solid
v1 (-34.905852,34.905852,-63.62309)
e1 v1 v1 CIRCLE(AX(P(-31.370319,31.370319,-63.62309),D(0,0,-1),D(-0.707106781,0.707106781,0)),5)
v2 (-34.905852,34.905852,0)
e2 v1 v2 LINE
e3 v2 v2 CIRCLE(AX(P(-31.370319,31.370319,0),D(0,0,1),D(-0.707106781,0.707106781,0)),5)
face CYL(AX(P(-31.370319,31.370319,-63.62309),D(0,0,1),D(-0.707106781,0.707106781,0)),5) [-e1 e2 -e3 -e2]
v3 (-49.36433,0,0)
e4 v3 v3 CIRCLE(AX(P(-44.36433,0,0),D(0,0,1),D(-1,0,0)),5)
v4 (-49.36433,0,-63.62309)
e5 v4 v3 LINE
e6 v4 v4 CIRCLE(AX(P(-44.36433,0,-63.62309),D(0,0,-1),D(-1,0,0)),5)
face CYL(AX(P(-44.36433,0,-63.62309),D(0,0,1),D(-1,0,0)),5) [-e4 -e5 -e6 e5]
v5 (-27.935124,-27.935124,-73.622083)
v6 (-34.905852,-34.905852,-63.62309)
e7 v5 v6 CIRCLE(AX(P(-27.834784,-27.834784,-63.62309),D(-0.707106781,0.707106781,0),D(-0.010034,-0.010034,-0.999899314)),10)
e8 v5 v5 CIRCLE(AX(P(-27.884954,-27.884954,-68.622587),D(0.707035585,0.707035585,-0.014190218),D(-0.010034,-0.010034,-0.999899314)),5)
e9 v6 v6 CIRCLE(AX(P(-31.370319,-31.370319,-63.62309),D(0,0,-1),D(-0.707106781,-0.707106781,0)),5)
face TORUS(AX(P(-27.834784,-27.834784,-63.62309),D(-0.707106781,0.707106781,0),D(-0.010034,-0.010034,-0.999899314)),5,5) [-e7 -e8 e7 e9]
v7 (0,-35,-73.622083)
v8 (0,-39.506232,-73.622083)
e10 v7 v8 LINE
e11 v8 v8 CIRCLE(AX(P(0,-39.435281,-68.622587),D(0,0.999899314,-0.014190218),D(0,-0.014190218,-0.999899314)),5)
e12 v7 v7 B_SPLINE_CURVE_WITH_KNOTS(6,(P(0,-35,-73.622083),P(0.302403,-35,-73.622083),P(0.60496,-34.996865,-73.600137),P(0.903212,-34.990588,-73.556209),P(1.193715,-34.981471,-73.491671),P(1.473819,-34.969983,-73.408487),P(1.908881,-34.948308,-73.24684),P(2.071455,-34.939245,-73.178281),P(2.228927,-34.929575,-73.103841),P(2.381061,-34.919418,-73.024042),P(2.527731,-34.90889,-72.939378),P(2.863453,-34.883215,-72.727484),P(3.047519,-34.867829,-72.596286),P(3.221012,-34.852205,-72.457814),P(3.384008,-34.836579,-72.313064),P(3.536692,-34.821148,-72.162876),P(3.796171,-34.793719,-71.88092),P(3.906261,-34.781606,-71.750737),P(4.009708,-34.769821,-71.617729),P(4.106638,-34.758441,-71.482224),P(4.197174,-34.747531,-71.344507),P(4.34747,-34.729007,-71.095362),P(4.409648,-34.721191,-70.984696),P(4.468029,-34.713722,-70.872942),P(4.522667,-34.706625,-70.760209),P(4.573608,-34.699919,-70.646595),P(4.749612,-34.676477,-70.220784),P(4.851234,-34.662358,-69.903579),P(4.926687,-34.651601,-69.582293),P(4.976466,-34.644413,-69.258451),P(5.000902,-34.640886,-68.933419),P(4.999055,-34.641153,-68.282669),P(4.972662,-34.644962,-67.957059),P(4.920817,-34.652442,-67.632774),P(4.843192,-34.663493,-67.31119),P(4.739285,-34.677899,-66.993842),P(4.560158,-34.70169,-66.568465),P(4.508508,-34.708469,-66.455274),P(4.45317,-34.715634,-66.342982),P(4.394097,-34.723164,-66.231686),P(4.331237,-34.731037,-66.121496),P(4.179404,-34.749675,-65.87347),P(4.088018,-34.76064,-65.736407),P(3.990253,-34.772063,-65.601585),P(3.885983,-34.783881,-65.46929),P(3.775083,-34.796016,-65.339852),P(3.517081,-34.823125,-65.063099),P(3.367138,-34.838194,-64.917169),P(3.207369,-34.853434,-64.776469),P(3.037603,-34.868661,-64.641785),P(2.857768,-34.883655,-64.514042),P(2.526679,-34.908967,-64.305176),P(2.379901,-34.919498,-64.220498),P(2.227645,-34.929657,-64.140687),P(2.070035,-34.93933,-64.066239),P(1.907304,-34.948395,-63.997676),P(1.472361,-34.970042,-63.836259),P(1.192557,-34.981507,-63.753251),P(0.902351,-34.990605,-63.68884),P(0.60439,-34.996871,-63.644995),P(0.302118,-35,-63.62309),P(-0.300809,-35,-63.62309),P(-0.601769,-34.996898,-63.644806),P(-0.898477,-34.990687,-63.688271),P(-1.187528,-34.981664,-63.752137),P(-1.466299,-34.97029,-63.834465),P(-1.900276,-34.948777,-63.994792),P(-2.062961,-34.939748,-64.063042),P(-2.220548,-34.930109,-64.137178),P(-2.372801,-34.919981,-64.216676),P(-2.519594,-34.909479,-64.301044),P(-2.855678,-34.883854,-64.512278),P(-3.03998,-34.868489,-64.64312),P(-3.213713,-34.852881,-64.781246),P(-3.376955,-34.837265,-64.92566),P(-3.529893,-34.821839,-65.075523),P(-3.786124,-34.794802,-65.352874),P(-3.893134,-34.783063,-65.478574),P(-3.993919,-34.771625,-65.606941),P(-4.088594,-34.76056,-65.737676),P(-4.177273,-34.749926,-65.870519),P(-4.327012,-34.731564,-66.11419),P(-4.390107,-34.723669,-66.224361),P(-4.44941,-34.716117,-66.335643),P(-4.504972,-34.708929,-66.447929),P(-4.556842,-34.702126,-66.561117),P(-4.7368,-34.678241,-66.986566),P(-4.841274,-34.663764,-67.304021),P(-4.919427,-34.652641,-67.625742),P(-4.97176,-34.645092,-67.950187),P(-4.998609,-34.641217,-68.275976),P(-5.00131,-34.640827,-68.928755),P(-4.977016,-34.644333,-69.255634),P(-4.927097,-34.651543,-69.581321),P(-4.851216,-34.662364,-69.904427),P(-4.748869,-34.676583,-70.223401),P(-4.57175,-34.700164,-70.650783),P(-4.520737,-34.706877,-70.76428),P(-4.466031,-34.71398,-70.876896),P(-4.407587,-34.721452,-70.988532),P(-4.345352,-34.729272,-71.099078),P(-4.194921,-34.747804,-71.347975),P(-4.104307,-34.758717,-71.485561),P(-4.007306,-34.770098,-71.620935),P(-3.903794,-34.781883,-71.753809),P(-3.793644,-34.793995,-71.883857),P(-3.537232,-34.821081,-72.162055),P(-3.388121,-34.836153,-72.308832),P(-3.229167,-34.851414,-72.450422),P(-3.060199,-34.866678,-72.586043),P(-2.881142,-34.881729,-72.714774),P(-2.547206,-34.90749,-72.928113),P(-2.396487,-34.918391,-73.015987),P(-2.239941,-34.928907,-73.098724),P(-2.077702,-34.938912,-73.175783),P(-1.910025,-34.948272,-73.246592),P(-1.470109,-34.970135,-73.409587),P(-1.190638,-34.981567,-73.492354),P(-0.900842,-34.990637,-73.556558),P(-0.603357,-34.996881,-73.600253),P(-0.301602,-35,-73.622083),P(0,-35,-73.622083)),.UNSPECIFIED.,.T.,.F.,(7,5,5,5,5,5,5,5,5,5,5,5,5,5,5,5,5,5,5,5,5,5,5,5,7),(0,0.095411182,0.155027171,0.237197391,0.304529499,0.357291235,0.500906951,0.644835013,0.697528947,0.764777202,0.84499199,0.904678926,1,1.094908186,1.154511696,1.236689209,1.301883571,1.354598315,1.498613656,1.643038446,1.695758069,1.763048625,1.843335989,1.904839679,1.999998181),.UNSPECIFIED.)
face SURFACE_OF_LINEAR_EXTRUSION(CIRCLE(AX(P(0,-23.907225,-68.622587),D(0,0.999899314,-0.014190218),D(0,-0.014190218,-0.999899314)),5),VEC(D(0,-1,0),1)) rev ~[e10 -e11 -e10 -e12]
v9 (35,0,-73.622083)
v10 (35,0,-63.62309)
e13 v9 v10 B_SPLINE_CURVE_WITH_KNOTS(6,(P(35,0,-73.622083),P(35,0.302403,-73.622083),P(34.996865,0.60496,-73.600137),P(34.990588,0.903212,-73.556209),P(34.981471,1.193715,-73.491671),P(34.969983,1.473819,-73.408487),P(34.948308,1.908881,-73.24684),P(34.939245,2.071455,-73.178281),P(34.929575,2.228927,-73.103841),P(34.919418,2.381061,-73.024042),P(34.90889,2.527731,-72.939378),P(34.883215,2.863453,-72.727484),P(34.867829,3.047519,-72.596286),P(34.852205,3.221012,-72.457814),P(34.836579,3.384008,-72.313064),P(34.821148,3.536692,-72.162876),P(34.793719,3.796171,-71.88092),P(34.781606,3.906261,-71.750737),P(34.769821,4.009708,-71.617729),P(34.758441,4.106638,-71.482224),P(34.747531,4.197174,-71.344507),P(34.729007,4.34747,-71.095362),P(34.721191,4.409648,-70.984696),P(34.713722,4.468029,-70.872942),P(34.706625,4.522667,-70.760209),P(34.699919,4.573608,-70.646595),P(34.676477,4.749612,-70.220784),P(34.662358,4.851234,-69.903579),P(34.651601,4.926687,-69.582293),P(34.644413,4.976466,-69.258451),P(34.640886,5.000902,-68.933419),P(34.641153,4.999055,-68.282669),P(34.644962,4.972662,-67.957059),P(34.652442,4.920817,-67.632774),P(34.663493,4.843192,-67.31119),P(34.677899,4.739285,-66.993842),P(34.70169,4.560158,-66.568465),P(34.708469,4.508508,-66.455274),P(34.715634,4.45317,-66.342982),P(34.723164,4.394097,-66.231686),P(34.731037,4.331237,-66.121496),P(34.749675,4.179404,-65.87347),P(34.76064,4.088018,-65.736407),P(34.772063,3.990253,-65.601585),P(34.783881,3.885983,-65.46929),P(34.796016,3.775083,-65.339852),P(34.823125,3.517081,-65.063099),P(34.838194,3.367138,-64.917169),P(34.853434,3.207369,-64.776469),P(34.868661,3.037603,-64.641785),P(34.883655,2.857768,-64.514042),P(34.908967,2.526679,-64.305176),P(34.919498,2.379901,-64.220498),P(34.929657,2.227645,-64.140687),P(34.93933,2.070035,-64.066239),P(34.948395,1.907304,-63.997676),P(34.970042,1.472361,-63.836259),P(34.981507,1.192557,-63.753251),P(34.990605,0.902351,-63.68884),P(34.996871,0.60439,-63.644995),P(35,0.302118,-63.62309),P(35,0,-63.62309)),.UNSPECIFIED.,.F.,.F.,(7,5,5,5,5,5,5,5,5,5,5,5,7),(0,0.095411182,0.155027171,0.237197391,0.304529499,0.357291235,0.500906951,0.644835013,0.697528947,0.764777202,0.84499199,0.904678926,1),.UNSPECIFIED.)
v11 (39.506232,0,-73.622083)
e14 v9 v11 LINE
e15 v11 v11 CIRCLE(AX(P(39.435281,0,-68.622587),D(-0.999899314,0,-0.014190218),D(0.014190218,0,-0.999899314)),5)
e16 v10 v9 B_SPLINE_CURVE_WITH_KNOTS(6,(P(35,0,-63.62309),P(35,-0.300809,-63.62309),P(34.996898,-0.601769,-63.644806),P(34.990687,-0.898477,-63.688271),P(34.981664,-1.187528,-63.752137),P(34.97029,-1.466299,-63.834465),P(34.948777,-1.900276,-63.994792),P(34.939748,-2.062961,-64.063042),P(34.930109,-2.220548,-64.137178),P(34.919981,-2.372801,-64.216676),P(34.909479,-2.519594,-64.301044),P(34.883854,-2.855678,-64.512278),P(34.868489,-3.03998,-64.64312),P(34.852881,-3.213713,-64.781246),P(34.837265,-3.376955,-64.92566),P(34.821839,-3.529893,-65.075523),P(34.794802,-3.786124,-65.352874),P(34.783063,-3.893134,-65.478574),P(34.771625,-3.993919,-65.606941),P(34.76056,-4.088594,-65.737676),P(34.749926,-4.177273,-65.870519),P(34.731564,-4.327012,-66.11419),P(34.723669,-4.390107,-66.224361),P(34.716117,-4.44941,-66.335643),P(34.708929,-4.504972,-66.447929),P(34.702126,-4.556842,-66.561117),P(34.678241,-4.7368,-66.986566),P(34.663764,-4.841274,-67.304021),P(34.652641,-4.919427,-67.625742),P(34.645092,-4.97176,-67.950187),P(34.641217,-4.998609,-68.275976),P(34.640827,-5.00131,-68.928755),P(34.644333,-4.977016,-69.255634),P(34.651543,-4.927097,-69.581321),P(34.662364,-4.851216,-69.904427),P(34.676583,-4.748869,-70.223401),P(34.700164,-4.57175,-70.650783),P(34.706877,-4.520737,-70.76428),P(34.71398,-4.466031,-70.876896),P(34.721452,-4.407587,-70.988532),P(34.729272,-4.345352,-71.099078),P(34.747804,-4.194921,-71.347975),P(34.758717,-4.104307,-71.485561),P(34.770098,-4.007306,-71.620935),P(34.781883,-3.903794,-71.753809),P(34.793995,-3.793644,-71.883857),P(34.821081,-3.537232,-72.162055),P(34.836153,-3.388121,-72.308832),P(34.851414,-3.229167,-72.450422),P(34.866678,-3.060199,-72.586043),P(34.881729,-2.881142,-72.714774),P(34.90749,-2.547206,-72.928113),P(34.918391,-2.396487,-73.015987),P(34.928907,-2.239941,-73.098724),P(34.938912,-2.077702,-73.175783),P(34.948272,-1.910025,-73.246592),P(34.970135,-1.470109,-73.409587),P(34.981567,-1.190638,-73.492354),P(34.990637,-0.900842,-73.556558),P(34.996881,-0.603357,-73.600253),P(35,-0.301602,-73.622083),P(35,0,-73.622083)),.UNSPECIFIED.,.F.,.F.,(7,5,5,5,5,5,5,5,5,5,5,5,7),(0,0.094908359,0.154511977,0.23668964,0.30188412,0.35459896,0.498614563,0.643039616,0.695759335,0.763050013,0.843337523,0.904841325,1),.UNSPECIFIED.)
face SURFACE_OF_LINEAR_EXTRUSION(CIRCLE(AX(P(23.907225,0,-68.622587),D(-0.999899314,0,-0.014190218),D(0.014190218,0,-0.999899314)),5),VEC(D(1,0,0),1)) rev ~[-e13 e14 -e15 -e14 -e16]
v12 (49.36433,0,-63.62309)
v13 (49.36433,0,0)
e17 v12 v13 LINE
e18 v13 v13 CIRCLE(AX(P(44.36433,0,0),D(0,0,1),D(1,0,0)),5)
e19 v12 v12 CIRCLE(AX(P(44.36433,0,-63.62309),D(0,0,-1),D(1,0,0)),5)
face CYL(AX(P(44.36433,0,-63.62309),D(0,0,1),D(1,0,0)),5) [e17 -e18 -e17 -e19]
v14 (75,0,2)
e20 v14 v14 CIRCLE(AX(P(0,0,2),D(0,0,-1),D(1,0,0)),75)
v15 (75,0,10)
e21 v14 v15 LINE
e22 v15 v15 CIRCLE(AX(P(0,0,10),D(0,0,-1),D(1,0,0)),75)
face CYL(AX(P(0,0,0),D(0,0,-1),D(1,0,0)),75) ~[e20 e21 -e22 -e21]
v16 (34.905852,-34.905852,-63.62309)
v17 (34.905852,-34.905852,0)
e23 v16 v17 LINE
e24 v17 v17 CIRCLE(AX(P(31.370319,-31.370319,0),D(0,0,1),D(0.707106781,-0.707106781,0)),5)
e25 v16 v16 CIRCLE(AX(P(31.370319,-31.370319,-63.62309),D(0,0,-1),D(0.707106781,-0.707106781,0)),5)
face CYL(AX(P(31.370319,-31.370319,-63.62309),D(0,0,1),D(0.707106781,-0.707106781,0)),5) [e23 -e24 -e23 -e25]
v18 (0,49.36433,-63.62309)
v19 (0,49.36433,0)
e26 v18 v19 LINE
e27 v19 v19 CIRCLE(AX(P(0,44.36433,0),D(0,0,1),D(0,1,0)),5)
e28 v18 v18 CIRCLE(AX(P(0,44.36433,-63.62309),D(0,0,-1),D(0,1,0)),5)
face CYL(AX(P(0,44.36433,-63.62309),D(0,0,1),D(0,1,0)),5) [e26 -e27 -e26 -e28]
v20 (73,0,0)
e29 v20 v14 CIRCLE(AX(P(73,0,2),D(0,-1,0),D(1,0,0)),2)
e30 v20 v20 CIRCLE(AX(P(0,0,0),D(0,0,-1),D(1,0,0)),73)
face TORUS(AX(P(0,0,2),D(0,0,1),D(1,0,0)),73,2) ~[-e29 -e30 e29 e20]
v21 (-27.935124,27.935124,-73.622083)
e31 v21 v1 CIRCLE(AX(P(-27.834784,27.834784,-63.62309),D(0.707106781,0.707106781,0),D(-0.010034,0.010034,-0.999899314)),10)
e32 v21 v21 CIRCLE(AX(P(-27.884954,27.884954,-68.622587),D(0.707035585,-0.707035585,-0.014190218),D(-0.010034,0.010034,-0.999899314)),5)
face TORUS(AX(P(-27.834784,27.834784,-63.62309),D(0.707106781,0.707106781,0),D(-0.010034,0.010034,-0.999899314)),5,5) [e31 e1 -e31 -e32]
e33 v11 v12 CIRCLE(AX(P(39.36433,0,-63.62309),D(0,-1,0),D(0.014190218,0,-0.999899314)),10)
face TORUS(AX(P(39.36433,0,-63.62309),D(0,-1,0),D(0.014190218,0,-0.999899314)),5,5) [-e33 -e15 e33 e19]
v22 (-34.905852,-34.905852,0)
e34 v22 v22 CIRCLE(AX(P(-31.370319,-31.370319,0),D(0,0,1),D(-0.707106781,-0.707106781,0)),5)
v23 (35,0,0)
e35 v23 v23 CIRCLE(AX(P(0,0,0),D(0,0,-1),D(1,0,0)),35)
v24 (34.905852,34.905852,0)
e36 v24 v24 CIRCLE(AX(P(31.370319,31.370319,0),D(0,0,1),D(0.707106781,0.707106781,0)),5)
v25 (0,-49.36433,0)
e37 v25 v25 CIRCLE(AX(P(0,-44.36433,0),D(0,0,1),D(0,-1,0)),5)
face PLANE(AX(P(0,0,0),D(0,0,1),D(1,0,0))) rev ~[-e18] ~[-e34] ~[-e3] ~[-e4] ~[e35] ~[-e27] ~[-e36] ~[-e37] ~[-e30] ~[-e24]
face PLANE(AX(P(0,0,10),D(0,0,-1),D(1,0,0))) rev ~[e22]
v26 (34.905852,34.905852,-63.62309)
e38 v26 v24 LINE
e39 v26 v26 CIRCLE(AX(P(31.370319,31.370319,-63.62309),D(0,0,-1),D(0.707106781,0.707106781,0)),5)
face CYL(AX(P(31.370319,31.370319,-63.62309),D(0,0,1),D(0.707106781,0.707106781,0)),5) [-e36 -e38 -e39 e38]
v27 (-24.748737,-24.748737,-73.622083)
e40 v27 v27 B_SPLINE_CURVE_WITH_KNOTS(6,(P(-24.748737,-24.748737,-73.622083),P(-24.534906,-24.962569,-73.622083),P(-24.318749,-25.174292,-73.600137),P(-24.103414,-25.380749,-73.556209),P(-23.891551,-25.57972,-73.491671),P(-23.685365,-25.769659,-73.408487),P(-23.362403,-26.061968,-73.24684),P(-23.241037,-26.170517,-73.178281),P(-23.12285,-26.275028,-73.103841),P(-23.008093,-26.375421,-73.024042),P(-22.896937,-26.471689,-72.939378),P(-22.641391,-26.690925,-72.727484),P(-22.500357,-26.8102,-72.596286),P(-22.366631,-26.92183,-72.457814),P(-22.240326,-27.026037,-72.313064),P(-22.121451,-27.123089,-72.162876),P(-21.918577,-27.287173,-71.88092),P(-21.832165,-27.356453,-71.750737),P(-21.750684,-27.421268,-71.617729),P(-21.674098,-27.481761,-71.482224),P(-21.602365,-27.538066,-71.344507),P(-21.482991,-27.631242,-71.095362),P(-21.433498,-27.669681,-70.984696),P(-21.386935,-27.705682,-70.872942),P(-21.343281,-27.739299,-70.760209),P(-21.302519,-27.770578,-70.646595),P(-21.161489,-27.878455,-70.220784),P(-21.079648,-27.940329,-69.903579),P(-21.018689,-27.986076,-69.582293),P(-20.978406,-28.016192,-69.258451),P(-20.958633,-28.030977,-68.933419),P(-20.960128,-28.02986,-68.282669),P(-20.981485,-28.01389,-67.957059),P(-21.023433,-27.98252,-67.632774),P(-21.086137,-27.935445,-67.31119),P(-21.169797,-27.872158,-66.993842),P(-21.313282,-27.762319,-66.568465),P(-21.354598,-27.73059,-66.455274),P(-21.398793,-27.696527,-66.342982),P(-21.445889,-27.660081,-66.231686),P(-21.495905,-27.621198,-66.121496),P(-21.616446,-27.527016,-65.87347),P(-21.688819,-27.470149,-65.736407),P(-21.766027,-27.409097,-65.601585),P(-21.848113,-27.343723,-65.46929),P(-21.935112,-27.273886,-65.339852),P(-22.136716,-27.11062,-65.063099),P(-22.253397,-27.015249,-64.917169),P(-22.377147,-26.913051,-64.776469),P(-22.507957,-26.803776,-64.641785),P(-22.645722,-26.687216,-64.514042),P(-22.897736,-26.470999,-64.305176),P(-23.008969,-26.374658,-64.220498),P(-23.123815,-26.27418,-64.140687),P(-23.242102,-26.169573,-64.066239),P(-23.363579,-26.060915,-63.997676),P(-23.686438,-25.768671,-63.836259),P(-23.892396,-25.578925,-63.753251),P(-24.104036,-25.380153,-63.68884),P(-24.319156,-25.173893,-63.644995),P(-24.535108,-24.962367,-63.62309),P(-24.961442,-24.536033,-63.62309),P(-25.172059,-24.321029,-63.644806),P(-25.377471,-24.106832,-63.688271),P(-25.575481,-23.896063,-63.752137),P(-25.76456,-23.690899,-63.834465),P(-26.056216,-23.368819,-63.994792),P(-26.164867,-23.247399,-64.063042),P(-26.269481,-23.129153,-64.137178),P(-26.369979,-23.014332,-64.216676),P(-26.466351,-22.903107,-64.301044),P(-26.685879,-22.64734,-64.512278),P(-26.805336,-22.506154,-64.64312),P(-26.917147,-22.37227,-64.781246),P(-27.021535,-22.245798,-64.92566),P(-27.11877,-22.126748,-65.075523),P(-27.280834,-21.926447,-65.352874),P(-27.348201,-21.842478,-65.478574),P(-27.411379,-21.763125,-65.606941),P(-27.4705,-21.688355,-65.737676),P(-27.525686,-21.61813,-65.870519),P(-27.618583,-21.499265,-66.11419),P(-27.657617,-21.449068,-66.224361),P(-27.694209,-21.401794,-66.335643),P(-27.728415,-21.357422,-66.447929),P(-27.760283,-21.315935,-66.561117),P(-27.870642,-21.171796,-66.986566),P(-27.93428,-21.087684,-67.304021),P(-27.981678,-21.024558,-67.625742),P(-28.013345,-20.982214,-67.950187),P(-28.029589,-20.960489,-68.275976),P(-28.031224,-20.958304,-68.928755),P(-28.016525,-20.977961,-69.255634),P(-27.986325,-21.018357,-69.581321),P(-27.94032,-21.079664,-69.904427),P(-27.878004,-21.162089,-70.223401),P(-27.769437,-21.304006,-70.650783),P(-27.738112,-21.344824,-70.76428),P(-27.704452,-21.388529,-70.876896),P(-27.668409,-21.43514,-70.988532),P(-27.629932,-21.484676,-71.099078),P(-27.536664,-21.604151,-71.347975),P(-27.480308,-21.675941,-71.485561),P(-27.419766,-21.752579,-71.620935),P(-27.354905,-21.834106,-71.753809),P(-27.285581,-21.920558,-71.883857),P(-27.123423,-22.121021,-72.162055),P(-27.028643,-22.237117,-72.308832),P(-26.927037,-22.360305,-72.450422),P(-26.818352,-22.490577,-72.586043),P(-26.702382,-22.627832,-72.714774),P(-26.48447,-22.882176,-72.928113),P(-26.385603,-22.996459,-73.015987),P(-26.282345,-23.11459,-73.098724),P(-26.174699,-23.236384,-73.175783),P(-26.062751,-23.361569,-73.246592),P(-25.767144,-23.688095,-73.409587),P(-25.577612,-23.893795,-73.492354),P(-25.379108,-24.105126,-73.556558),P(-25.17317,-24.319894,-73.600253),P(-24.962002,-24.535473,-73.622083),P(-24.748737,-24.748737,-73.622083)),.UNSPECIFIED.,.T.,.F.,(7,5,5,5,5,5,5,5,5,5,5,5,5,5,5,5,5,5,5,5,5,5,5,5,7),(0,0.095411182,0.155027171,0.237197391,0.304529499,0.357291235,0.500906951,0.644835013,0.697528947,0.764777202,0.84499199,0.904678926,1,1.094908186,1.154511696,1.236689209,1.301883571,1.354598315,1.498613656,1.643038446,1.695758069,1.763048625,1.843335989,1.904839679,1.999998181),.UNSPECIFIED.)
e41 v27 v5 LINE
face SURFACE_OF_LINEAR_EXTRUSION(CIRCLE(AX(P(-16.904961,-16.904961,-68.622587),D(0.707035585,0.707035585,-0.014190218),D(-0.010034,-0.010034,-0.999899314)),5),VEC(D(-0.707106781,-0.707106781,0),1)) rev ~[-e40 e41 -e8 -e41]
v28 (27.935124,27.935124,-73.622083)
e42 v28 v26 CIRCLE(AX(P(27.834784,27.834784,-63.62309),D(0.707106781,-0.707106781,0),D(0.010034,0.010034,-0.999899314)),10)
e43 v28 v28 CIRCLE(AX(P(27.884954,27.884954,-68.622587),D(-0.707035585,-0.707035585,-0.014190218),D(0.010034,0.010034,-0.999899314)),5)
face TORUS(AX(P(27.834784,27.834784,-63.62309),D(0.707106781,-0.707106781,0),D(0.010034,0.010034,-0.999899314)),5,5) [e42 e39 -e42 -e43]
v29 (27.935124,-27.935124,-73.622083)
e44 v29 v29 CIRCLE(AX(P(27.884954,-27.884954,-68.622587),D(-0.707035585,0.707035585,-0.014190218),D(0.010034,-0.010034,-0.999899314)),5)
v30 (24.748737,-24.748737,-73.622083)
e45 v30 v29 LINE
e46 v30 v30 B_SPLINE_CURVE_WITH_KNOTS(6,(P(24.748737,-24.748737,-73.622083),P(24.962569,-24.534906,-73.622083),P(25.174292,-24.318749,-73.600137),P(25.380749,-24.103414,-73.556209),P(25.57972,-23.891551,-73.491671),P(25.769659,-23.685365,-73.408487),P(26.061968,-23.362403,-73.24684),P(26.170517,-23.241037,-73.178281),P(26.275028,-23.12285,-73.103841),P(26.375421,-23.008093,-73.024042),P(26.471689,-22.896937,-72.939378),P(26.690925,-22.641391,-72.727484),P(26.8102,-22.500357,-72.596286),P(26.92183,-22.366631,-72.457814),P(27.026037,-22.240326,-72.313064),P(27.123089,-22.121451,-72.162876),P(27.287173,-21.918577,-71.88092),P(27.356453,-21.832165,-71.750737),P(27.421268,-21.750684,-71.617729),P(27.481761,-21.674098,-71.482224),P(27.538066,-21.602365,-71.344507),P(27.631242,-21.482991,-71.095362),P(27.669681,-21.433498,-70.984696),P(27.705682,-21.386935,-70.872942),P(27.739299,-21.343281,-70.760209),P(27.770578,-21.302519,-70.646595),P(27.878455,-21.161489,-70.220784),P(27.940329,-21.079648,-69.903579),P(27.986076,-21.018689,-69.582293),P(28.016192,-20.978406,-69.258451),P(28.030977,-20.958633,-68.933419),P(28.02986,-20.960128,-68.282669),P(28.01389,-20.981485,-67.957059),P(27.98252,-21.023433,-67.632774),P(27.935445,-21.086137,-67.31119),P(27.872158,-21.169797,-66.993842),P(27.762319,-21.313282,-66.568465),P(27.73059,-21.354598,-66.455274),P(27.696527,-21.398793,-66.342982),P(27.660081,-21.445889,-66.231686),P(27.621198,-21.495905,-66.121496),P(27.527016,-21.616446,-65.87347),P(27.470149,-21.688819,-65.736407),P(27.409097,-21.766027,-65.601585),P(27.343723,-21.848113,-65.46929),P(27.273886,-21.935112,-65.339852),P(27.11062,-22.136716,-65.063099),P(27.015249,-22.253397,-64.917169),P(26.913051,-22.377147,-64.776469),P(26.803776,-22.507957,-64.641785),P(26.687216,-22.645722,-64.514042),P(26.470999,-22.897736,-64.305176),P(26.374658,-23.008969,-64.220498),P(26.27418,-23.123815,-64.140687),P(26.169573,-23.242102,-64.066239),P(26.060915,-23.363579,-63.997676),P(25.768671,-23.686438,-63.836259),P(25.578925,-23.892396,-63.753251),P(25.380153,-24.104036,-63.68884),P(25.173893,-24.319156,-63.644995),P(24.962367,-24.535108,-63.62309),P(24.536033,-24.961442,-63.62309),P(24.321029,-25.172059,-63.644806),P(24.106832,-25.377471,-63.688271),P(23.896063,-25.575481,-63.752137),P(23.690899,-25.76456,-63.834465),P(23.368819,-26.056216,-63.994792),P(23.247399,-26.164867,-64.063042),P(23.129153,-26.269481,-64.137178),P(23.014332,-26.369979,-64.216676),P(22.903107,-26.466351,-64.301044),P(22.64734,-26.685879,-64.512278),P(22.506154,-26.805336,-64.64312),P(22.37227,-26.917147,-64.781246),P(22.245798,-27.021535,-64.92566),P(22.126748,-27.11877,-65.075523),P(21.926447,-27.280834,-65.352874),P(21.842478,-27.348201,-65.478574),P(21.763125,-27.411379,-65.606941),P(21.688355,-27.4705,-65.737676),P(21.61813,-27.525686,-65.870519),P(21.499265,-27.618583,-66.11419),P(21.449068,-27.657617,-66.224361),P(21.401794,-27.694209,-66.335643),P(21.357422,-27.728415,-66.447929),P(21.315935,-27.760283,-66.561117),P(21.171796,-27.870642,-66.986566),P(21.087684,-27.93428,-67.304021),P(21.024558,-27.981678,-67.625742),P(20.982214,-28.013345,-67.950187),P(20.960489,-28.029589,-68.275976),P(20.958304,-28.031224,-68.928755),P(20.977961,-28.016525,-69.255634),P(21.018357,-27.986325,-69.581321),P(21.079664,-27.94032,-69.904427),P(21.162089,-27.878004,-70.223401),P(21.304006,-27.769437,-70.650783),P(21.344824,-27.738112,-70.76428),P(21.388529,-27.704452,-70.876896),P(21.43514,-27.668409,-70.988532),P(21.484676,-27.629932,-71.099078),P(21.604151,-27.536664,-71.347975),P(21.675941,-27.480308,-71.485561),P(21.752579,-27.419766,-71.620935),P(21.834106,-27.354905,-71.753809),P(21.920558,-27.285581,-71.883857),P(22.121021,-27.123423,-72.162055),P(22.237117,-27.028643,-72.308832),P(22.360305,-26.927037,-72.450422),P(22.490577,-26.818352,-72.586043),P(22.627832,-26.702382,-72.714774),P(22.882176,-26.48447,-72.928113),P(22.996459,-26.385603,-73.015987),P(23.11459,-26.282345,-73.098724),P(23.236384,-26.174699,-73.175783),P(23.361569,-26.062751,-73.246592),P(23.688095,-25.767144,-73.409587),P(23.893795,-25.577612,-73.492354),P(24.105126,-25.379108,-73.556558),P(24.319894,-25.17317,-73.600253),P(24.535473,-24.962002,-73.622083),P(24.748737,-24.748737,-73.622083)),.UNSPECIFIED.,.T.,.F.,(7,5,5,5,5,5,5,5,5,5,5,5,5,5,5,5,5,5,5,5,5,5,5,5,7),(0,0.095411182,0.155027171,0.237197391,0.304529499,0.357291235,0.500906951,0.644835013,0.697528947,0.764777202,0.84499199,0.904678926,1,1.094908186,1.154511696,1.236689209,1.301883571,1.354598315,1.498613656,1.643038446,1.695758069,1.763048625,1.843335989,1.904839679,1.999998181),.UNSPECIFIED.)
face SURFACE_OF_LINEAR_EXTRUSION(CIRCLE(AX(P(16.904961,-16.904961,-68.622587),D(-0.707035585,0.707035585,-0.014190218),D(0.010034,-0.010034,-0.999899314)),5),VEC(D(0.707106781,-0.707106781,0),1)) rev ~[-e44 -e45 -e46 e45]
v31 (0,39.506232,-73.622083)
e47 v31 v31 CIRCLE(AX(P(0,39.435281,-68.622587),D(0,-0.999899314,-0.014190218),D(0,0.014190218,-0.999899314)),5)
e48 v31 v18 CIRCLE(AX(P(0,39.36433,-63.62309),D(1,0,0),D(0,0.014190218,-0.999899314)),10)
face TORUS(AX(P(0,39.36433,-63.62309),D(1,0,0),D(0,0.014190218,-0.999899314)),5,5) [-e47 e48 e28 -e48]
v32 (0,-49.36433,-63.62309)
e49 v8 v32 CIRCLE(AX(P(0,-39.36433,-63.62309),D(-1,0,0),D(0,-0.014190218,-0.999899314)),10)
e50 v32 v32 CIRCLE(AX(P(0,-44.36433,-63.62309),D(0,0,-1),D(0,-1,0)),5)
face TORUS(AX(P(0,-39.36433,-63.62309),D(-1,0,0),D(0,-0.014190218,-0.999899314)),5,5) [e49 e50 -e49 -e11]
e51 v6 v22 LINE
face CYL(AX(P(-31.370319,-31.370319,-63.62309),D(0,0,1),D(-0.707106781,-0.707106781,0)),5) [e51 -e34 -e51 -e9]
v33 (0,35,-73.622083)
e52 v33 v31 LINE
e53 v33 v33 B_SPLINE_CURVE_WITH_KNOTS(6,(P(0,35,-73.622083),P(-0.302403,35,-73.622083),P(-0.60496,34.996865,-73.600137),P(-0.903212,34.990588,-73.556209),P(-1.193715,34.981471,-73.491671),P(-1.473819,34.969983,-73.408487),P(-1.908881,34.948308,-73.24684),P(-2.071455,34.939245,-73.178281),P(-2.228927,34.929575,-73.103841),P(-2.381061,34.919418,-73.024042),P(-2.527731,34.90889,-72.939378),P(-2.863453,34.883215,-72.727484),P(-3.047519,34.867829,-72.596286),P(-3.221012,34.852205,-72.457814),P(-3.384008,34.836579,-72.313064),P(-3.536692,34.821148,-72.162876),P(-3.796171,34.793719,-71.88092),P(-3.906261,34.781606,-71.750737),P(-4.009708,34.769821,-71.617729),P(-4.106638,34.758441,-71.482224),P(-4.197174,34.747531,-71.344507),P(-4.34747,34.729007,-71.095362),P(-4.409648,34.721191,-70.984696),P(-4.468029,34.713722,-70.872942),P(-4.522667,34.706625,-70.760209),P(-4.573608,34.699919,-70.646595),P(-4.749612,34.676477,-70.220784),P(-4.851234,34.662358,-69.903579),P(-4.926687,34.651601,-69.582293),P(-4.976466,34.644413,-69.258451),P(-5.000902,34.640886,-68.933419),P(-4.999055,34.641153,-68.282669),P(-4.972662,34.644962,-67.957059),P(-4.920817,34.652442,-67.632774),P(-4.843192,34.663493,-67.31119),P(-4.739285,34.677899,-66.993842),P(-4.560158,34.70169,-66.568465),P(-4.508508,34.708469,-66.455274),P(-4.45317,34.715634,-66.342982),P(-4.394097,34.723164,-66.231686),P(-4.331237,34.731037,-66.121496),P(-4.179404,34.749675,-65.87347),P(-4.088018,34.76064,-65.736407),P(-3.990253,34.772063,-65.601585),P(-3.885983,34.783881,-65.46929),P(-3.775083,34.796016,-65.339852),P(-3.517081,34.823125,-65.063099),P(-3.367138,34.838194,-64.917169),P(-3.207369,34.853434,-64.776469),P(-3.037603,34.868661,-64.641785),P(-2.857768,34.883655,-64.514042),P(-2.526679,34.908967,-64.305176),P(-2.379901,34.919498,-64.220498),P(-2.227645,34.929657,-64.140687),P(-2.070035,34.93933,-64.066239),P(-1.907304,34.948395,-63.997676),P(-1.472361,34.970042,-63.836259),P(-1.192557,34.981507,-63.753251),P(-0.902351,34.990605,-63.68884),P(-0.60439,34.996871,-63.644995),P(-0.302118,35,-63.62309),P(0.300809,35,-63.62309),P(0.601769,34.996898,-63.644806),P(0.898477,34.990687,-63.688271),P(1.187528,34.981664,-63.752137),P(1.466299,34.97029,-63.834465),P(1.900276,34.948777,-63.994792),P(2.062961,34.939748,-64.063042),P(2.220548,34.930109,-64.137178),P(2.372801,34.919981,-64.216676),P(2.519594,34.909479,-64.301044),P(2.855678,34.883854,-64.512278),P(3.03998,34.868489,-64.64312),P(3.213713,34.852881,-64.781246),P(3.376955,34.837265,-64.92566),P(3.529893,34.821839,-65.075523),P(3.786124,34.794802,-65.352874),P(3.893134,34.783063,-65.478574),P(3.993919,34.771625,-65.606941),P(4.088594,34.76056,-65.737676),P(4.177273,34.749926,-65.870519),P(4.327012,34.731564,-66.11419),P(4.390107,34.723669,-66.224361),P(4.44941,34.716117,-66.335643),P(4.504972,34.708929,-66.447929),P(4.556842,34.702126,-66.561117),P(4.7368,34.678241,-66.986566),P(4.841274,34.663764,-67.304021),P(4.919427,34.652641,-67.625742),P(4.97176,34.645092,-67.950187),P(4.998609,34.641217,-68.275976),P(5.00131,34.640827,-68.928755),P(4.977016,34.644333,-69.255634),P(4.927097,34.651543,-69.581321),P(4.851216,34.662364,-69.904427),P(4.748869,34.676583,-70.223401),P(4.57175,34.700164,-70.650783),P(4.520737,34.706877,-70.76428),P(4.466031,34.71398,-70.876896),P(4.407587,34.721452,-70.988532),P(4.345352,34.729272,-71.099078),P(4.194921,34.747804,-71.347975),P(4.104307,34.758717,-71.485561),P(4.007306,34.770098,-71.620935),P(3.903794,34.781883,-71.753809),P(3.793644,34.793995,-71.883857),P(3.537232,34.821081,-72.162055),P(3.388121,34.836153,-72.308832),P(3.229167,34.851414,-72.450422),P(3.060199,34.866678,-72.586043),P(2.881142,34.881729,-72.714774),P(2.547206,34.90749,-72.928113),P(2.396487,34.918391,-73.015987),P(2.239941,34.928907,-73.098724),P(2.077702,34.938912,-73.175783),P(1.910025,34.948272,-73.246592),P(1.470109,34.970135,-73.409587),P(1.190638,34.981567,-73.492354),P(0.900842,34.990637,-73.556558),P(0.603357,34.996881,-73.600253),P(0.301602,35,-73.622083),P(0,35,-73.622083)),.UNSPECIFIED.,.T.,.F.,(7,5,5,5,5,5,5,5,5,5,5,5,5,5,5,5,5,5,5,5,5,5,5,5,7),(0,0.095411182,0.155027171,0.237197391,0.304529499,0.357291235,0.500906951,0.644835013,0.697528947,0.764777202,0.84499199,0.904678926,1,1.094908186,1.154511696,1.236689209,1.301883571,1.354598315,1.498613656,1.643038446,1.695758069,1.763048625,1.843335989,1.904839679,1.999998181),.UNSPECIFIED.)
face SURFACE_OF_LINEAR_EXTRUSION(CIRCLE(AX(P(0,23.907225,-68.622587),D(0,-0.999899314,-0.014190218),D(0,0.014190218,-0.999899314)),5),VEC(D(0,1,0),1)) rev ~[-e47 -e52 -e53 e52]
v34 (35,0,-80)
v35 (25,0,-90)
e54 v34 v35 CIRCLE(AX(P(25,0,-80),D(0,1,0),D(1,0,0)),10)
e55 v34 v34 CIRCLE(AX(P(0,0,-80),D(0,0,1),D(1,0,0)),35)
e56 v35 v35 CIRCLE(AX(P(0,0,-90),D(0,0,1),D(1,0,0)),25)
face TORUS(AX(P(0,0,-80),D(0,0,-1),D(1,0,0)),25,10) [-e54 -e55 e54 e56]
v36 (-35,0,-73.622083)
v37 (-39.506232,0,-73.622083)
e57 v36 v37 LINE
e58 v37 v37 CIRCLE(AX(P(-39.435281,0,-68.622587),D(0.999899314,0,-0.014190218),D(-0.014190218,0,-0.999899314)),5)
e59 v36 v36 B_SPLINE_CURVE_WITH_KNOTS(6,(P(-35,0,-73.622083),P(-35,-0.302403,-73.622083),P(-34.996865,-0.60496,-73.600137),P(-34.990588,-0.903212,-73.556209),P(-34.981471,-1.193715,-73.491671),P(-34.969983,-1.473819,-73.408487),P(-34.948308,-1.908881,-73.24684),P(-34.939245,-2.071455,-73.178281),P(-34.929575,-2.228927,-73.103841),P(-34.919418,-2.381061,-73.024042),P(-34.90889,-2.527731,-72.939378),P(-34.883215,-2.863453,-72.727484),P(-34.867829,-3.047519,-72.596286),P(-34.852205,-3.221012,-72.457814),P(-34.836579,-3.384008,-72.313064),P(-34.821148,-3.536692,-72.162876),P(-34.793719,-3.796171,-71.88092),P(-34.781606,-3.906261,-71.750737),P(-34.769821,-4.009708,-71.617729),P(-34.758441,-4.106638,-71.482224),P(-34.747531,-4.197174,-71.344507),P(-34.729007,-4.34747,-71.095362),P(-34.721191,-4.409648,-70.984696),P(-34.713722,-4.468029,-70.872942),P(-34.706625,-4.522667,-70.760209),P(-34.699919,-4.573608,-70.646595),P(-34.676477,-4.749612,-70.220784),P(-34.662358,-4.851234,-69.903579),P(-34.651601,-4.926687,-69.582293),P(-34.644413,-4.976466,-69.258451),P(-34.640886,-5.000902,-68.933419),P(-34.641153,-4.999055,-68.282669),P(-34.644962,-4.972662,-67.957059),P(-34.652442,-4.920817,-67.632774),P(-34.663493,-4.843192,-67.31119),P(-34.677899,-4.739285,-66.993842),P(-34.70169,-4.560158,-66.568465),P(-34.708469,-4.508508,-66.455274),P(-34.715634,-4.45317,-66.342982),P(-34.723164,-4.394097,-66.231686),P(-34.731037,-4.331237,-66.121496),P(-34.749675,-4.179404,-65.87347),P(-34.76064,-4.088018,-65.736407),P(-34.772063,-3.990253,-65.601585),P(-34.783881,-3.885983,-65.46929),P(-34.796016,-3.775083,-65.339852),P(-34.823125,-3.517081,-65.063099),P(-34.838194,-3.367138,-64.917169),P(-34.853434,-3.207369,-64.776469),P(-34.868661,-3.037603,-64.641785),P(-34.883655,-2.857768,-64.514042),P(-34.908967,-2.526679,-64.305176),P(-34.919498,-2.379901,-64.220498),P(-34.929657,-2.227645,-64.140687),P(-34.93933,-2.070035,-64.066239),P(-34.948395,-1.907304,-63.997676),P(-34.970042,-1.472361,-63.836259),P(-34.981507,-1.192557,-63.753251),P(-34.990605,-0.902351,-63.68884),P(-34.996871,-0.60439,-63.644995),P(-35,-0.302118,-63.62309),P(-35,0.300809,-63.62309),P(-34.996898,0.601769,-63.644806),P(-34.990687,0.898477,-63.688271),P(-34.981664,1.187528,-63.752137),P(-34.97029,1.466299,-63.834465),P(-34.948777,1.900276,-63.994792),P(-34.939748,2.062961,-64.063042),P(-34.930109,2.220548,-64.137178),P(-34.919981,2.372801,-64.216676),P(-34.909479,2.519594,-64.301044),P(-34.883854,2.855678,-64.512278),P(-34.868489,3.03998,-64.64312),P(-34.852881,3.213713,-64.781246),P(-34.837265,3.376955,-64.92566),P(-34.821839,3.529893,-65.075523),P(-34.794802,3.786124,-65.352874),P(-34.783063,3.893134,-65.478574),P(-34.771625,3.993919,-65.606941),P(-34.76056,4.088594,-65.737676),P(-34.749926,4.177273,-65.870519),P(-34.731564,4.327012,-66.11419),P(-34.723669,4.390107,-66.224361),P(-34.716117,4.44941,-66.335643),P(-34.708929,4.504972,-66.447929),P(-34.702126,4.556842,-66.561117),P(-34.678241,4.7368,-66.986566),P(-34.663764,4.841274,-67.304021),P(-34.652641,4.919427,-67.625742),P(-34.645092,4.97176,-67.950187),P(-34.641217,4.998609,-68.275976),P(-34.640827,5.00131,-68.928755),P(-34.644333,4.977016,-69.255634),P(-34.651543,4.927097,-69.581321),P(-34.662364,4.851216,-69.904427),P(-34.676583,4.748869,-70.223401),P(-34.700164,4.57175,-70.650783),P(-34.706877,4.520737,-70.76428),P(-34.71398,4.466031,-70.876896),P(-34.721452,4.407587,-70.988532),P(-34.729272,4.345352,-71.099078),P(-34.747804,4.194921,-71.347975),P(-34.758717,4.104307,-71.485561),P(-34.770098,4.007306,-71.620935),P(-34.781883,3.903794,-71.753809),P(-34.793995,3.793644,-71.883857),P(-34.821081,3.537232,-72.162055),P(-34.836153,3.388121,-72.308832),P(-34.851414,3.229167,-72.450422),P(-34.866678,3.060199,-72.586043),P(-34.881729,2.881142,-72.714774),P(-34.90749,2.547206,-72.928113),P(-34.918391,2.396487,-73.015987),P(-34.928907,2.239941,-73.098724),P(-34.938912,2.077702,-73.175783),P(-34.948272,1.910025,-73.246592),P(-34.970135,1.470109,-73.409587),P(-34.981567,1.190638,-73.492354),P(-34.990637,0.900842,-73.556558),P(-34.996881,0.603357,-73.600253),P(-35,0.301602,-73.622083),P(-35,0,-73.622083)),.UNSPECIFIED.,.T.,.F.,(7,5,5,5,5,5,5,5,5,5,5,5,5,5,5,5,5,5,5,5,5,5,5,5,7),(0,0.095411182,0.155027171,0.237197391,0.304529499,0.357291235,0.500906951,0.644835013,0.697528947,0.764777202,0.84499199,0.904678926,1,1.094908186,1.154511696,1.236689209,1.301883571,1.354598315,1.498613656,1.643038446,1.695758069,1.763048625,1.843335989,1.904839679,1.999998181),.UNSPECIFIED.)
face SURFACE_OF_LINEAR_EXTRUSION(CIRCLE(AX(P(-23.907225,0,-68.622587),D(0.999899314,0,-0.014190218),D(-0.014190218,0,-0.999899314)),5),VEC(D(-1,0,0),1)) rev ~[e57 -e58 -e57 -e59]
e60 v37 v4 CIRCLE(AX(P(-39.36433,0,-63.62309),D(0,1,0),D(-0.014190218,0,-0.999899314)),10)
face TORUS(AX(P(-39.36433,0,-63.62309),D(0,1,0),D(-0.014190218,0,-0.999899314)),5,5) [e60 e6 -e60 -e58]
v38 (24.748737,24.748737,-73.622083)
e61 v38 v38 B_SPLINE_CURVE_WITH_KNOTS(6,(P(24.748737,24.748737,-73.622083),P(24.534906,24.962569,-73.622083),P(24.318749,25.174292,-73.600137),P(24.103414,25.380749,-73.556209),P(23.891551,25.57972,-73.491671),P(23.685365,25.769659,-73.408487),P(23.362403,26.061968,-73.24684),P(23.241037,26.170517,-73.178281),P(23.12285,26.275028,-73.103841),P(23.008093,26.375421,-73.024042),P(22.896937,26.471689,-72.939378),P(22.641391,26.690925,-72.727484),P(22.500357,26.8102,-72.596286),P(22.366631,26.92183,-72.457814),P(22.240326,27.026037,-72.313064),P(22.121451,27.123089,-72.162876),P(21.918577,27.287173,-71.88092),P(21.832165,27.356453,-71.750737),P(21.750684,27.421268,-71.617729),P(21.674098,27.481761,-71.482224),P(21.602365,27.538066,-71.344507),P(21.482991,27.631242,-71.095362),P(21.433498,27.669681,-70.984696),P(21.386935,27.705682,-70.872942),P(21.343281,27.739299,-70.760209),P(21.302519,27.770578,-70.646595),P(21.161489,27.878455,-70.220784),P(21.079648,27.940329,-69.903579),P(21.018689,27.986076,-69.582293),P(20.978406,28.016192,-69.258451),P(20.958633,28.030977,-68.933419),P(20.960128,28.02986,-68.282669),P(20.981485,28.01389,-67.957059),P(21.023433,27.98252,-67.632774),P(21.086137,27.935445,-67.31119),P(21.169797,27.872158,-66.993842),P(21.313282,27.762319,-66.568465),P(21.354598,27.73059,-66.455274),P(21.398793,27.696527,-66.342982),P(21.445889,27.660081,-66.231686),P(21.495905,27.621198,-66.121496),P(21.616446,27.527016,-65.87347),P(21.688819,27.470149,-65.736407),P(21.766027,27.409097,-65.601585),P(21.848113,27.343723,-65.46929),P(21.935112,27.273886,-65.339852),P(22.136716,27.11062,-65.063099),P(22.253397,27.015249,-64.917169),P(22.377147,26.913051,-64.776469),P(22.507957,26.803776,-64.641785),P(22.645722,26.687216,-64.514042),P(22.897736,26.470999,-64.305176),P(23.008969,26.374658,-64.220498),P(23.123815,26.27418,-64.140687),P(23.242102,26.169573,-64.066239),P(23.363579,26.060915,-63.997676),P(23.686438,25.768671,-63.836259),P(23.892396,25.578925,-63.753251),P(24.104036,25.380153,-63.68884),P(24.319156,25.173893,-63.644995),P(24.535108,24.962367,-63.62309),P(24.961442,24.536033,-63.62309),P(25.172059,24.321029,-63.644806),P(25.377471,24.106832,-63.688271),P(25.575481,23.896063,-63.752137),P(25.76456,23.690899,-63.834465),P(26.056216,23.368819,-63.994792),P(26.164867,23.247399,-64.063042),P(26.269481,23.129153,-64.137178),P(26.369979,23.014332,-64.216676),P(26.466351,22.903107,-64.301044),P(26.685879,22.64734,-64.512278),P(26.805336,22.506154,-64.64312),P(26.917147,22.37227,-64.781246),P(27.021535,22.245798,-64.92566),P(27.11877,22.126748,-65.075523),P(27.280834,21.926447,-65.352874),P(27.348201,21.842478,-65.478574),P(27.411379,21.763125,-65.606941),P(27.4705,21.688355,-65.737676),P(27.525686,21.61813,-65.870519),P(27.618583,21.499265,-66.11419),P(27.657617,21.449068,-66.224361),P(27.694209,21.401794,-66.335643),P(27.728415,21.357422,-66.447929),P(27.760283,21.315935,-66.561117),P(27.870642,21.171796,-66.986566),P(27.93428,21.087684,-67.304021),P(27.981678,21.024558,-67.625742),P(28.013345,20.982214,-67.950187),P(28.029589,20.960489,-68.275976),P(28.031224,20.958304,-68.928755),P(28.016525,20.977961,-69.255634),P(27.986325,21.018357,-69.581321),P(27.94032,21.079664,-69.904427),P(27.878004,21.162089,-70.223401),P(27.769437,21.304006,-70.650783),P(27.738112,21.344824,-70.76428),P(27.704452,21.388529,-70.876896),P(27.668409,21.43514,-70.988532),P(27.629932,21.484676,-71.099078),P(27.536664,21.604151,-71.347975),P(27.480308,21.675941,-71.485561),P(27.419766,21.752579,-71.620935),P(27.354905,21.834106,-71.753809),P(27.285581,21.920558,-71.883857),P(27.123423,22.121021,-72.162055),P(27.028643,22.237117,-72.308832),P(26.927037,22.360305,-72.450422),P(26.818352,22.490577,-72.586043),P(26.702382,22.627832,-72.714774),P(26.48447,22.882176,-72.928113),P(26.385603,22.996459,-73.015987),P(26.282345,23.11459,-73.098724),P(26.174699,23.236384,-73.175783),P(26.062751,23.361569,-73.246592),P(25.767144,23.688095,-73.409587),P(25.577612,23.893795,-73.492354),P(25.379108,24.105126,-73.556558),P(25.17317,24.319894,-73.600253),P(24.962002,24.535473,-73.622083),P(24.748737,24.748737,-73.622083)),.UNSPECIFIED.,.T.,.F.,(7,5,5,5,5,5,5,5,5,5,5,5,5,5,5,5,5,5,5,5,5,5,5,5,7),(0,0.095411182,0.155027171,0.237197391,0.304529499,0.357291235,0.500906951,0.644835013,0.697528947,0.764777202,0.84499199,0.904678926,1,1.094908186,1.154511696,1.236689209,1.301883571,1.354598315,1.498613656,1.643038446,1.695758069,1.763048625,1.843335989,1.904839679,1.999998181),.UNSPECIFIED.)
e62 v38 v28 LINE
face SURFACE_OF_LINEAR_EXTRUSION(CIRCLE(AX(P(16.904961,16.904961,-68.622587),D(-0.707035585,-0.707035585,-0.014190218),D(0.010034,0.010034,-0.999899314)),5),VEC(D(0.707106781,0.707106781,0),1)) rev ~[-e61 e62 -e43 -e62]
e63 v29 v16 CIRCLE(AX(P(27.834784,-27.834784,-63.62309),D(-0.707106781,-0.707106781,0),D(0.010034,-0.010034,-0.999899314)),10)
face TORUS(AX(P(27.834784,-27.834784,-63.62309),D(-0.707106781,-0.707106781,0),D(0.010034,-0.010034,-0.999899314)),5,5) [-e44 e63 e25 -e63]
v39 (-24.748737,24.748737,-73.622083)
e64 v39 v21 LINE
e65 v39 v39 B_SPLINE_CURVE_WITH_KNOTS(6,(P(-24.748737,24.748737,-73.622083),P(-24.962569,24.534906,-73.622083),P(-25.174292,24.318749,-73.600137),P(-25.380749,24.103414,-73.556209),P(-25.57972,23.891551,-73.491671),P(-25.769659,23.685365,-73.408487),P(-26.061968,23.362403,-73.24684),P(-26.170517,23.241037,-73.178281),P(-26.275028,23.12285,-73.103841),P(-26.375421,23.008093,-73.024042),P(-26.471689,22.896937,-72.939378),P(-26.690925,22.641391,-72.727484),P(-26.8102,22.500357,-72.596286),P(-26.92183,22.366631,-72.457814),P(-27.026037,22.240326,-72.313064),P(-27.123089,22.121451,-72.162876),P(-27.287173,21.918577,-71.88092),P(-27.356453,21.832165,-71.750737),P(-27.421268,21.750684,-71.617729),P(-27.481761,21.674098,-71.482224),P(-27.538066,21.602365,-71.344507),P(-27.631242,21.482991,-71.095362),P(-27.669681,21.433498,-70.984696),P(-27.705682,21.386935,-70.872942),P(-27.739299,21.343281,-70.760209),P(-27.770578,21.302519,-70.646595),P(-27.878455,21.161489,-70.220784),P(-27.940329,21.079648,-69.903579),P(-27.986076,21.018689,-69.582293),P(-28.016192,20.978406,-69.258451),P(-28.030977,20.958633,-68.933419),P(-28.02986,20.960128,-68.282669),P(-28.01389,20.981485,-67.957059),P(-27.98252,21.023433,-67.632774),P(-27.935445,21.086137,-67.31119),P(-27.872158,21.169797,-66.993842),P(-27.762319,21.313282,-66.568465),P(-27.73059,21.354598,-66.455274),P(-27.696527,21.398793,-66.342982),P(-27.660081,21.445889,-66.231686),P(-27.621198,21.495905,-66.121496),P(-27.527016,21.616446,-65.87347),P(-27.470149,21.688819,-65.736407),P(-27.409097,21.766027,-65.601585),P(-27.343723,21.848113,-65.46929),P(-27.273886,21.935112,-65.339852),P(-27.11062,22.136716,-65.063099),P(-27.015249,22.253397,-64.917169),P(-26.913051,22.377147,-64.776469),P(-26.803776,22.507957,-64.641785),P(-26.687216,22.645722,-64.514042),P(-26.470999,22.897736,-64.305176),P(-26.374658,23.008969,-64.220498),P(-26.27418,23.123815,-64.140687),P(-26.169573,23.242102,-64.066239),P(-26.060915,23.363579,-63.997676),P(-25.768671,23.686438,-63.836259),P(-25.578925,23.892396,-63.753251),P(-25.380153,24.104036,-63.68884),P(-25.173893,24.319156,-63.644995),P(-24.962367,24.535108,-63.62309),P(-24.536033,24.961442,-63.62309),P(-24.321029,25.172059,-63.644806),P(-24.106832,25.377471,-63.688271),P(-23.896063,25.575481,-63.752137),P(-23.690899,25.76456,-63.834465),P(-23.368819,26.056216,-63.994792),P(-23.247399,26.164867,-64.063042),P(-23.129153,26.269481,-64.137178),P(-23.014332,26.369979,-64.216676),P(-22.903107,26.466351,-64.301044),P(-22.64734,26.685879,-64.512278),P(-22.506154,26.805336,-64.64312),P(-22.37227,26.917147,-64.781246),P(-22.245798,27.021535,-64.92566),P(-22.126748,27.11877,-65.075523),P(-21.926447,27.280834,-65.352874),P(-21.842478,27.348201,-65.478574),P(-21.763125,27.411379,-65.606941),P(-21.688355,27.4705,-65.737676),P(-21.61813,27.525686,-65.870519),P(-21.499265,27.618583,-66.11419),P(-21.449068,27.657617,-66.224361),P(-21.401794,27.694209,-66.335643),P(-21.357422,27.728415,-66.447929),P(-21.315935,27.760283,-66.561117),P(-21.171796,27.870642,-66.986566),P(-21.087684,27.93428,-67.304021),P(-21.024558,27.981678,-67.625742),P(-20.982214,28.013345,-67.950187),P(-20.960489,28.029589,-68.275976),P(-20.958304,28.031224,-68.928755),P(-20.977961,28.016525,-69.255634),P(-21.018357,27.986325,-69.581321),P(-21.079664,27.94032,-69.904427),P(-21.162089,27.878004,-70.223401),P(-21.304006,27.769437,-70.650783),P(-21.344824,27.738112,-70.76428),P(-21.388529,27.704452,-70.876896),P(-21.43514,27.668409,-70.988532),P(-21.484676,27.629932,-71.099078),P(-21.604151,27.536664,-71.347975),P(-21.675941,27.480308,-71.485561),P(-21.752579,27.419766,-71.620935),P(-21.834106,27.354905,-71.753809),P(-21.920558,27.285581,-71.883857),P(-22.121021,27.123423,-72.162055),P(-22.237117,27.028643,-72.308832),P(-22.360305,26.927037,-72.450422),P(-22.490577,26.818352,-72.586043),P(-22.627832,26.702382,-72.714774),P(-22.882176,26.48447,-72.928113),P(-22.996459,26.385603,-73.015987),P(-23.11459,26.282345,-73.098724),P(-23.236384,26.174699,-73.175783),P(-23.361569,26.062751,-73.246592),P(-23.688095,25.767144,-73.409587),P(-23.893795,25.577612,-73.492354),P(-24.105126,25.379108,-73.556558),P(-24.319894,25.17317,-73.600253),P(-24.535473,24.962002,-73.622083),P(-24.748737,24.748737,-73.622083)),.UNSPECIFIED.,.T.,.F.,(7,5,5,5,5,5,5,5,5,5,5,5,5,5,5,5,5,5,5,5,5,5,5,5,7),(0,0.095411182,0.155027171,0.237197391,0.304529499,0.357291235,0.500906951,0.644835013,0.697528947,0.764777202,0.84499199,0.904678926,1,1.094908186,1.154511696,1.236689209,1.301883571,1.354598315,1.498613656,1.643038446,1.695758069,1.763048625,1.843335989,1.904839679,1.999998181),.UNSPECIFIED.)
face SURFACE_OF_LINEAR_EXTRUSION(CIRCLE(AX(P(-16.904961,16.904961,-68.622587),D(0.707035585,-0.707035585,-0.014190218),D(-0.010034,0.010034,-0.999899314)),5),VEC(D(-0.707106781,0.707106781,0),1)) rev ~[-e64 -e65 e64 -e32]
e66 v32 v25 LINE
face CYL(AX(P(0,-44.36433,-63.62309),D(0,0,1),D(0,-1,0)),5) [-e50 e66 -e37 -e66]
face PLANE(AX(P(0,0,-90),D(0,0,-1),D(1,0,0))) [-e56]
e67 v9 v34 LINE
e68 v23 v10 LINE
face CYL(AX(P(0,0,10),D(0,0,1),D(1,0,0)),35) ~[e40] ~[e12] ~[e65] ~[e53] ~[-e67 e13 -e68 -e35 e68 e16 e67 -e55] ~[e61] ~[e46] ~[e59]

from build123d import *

# Parameters (mm, degrees)
SKETCH_R           = 75
PAD_DEPTH          = 10
SKETCH001_R        = 35
PAD001_DEPTH       = 100
FILLET_R           = 10
SKETCH003_R        = 5
POLARPATTERN_COUNT = 8
FILLET001_R        = 2


with BuildPart() as part:
    # Sketch → Pad (new body)
    with BuildSketch(Plane.XY):
        Circle(SKETCH_R)
    extrude(amount=PAD_DEPTH)

    # Sketch001 (on Face2 of Pad) → Pad001 (join)
    with BuildSketch(Plane(origin=(0, 0, 10), x_dir=(1, 0, 0), z_dir=(0, 0, -1))):
        Circle(SKETCH001_R)
    extrude(amount=PAD001_DEPTH)

    # Fillet
    fillet_edges = [part.edges().sort_by_distance(p)[0] for p in [
        (-35, 0, -90),
    ]]
    fillet(fillet_edges, radius=FILLET_R)

    # AdditivePipe: sweep along a path in Sketch002
    with BuildLine(Plane.XZ) as additivepipe_path:
        Line((23.9072250064, -68.622586505), (39.4352808184, -68.622586505))
        ThreePointArc((39.4352808184, -68.622586505), (42.9248602672, -67.1334492156), (44.3643297268, -63.6230899361))
        Line((44.3643297268, -63.6230899361), (44.3643297268, 0))
    # Sketch003 (on Face3 of Fillet) → AdditivePipe (sweep)
    with BuildSketch(Plane(origin=(0, 0, 0), x_dir=(1, 0, 0), z_dir=(0, 0, -1))):
        with Locations((44.36433, 0)):
            Circle(SKETCH003_R)
    sweep(path=additivepipe_path.line)

    # PolarPattern: part ×8 about axis
    polarpattern_axis = Axis((0, 0, 0), (0, 0, 1))


with BuildPart() as part_1:
    add(part.part)
    for i in range(1, POLARPATTERN_COUNT):
        add(part.part.rotate(polarpattern_axis, i * 360 / POLARPATTERN_COUNT))

    # Fillet001
    fillet001_edges = [part_1.edges().sort_by_distance(p)[0] for p in [
        (-28.701257, -69.290965, 0),
    ]]
    fillet(fillet001_edges, radius=FILLET001_R)


solid = part_1.part
